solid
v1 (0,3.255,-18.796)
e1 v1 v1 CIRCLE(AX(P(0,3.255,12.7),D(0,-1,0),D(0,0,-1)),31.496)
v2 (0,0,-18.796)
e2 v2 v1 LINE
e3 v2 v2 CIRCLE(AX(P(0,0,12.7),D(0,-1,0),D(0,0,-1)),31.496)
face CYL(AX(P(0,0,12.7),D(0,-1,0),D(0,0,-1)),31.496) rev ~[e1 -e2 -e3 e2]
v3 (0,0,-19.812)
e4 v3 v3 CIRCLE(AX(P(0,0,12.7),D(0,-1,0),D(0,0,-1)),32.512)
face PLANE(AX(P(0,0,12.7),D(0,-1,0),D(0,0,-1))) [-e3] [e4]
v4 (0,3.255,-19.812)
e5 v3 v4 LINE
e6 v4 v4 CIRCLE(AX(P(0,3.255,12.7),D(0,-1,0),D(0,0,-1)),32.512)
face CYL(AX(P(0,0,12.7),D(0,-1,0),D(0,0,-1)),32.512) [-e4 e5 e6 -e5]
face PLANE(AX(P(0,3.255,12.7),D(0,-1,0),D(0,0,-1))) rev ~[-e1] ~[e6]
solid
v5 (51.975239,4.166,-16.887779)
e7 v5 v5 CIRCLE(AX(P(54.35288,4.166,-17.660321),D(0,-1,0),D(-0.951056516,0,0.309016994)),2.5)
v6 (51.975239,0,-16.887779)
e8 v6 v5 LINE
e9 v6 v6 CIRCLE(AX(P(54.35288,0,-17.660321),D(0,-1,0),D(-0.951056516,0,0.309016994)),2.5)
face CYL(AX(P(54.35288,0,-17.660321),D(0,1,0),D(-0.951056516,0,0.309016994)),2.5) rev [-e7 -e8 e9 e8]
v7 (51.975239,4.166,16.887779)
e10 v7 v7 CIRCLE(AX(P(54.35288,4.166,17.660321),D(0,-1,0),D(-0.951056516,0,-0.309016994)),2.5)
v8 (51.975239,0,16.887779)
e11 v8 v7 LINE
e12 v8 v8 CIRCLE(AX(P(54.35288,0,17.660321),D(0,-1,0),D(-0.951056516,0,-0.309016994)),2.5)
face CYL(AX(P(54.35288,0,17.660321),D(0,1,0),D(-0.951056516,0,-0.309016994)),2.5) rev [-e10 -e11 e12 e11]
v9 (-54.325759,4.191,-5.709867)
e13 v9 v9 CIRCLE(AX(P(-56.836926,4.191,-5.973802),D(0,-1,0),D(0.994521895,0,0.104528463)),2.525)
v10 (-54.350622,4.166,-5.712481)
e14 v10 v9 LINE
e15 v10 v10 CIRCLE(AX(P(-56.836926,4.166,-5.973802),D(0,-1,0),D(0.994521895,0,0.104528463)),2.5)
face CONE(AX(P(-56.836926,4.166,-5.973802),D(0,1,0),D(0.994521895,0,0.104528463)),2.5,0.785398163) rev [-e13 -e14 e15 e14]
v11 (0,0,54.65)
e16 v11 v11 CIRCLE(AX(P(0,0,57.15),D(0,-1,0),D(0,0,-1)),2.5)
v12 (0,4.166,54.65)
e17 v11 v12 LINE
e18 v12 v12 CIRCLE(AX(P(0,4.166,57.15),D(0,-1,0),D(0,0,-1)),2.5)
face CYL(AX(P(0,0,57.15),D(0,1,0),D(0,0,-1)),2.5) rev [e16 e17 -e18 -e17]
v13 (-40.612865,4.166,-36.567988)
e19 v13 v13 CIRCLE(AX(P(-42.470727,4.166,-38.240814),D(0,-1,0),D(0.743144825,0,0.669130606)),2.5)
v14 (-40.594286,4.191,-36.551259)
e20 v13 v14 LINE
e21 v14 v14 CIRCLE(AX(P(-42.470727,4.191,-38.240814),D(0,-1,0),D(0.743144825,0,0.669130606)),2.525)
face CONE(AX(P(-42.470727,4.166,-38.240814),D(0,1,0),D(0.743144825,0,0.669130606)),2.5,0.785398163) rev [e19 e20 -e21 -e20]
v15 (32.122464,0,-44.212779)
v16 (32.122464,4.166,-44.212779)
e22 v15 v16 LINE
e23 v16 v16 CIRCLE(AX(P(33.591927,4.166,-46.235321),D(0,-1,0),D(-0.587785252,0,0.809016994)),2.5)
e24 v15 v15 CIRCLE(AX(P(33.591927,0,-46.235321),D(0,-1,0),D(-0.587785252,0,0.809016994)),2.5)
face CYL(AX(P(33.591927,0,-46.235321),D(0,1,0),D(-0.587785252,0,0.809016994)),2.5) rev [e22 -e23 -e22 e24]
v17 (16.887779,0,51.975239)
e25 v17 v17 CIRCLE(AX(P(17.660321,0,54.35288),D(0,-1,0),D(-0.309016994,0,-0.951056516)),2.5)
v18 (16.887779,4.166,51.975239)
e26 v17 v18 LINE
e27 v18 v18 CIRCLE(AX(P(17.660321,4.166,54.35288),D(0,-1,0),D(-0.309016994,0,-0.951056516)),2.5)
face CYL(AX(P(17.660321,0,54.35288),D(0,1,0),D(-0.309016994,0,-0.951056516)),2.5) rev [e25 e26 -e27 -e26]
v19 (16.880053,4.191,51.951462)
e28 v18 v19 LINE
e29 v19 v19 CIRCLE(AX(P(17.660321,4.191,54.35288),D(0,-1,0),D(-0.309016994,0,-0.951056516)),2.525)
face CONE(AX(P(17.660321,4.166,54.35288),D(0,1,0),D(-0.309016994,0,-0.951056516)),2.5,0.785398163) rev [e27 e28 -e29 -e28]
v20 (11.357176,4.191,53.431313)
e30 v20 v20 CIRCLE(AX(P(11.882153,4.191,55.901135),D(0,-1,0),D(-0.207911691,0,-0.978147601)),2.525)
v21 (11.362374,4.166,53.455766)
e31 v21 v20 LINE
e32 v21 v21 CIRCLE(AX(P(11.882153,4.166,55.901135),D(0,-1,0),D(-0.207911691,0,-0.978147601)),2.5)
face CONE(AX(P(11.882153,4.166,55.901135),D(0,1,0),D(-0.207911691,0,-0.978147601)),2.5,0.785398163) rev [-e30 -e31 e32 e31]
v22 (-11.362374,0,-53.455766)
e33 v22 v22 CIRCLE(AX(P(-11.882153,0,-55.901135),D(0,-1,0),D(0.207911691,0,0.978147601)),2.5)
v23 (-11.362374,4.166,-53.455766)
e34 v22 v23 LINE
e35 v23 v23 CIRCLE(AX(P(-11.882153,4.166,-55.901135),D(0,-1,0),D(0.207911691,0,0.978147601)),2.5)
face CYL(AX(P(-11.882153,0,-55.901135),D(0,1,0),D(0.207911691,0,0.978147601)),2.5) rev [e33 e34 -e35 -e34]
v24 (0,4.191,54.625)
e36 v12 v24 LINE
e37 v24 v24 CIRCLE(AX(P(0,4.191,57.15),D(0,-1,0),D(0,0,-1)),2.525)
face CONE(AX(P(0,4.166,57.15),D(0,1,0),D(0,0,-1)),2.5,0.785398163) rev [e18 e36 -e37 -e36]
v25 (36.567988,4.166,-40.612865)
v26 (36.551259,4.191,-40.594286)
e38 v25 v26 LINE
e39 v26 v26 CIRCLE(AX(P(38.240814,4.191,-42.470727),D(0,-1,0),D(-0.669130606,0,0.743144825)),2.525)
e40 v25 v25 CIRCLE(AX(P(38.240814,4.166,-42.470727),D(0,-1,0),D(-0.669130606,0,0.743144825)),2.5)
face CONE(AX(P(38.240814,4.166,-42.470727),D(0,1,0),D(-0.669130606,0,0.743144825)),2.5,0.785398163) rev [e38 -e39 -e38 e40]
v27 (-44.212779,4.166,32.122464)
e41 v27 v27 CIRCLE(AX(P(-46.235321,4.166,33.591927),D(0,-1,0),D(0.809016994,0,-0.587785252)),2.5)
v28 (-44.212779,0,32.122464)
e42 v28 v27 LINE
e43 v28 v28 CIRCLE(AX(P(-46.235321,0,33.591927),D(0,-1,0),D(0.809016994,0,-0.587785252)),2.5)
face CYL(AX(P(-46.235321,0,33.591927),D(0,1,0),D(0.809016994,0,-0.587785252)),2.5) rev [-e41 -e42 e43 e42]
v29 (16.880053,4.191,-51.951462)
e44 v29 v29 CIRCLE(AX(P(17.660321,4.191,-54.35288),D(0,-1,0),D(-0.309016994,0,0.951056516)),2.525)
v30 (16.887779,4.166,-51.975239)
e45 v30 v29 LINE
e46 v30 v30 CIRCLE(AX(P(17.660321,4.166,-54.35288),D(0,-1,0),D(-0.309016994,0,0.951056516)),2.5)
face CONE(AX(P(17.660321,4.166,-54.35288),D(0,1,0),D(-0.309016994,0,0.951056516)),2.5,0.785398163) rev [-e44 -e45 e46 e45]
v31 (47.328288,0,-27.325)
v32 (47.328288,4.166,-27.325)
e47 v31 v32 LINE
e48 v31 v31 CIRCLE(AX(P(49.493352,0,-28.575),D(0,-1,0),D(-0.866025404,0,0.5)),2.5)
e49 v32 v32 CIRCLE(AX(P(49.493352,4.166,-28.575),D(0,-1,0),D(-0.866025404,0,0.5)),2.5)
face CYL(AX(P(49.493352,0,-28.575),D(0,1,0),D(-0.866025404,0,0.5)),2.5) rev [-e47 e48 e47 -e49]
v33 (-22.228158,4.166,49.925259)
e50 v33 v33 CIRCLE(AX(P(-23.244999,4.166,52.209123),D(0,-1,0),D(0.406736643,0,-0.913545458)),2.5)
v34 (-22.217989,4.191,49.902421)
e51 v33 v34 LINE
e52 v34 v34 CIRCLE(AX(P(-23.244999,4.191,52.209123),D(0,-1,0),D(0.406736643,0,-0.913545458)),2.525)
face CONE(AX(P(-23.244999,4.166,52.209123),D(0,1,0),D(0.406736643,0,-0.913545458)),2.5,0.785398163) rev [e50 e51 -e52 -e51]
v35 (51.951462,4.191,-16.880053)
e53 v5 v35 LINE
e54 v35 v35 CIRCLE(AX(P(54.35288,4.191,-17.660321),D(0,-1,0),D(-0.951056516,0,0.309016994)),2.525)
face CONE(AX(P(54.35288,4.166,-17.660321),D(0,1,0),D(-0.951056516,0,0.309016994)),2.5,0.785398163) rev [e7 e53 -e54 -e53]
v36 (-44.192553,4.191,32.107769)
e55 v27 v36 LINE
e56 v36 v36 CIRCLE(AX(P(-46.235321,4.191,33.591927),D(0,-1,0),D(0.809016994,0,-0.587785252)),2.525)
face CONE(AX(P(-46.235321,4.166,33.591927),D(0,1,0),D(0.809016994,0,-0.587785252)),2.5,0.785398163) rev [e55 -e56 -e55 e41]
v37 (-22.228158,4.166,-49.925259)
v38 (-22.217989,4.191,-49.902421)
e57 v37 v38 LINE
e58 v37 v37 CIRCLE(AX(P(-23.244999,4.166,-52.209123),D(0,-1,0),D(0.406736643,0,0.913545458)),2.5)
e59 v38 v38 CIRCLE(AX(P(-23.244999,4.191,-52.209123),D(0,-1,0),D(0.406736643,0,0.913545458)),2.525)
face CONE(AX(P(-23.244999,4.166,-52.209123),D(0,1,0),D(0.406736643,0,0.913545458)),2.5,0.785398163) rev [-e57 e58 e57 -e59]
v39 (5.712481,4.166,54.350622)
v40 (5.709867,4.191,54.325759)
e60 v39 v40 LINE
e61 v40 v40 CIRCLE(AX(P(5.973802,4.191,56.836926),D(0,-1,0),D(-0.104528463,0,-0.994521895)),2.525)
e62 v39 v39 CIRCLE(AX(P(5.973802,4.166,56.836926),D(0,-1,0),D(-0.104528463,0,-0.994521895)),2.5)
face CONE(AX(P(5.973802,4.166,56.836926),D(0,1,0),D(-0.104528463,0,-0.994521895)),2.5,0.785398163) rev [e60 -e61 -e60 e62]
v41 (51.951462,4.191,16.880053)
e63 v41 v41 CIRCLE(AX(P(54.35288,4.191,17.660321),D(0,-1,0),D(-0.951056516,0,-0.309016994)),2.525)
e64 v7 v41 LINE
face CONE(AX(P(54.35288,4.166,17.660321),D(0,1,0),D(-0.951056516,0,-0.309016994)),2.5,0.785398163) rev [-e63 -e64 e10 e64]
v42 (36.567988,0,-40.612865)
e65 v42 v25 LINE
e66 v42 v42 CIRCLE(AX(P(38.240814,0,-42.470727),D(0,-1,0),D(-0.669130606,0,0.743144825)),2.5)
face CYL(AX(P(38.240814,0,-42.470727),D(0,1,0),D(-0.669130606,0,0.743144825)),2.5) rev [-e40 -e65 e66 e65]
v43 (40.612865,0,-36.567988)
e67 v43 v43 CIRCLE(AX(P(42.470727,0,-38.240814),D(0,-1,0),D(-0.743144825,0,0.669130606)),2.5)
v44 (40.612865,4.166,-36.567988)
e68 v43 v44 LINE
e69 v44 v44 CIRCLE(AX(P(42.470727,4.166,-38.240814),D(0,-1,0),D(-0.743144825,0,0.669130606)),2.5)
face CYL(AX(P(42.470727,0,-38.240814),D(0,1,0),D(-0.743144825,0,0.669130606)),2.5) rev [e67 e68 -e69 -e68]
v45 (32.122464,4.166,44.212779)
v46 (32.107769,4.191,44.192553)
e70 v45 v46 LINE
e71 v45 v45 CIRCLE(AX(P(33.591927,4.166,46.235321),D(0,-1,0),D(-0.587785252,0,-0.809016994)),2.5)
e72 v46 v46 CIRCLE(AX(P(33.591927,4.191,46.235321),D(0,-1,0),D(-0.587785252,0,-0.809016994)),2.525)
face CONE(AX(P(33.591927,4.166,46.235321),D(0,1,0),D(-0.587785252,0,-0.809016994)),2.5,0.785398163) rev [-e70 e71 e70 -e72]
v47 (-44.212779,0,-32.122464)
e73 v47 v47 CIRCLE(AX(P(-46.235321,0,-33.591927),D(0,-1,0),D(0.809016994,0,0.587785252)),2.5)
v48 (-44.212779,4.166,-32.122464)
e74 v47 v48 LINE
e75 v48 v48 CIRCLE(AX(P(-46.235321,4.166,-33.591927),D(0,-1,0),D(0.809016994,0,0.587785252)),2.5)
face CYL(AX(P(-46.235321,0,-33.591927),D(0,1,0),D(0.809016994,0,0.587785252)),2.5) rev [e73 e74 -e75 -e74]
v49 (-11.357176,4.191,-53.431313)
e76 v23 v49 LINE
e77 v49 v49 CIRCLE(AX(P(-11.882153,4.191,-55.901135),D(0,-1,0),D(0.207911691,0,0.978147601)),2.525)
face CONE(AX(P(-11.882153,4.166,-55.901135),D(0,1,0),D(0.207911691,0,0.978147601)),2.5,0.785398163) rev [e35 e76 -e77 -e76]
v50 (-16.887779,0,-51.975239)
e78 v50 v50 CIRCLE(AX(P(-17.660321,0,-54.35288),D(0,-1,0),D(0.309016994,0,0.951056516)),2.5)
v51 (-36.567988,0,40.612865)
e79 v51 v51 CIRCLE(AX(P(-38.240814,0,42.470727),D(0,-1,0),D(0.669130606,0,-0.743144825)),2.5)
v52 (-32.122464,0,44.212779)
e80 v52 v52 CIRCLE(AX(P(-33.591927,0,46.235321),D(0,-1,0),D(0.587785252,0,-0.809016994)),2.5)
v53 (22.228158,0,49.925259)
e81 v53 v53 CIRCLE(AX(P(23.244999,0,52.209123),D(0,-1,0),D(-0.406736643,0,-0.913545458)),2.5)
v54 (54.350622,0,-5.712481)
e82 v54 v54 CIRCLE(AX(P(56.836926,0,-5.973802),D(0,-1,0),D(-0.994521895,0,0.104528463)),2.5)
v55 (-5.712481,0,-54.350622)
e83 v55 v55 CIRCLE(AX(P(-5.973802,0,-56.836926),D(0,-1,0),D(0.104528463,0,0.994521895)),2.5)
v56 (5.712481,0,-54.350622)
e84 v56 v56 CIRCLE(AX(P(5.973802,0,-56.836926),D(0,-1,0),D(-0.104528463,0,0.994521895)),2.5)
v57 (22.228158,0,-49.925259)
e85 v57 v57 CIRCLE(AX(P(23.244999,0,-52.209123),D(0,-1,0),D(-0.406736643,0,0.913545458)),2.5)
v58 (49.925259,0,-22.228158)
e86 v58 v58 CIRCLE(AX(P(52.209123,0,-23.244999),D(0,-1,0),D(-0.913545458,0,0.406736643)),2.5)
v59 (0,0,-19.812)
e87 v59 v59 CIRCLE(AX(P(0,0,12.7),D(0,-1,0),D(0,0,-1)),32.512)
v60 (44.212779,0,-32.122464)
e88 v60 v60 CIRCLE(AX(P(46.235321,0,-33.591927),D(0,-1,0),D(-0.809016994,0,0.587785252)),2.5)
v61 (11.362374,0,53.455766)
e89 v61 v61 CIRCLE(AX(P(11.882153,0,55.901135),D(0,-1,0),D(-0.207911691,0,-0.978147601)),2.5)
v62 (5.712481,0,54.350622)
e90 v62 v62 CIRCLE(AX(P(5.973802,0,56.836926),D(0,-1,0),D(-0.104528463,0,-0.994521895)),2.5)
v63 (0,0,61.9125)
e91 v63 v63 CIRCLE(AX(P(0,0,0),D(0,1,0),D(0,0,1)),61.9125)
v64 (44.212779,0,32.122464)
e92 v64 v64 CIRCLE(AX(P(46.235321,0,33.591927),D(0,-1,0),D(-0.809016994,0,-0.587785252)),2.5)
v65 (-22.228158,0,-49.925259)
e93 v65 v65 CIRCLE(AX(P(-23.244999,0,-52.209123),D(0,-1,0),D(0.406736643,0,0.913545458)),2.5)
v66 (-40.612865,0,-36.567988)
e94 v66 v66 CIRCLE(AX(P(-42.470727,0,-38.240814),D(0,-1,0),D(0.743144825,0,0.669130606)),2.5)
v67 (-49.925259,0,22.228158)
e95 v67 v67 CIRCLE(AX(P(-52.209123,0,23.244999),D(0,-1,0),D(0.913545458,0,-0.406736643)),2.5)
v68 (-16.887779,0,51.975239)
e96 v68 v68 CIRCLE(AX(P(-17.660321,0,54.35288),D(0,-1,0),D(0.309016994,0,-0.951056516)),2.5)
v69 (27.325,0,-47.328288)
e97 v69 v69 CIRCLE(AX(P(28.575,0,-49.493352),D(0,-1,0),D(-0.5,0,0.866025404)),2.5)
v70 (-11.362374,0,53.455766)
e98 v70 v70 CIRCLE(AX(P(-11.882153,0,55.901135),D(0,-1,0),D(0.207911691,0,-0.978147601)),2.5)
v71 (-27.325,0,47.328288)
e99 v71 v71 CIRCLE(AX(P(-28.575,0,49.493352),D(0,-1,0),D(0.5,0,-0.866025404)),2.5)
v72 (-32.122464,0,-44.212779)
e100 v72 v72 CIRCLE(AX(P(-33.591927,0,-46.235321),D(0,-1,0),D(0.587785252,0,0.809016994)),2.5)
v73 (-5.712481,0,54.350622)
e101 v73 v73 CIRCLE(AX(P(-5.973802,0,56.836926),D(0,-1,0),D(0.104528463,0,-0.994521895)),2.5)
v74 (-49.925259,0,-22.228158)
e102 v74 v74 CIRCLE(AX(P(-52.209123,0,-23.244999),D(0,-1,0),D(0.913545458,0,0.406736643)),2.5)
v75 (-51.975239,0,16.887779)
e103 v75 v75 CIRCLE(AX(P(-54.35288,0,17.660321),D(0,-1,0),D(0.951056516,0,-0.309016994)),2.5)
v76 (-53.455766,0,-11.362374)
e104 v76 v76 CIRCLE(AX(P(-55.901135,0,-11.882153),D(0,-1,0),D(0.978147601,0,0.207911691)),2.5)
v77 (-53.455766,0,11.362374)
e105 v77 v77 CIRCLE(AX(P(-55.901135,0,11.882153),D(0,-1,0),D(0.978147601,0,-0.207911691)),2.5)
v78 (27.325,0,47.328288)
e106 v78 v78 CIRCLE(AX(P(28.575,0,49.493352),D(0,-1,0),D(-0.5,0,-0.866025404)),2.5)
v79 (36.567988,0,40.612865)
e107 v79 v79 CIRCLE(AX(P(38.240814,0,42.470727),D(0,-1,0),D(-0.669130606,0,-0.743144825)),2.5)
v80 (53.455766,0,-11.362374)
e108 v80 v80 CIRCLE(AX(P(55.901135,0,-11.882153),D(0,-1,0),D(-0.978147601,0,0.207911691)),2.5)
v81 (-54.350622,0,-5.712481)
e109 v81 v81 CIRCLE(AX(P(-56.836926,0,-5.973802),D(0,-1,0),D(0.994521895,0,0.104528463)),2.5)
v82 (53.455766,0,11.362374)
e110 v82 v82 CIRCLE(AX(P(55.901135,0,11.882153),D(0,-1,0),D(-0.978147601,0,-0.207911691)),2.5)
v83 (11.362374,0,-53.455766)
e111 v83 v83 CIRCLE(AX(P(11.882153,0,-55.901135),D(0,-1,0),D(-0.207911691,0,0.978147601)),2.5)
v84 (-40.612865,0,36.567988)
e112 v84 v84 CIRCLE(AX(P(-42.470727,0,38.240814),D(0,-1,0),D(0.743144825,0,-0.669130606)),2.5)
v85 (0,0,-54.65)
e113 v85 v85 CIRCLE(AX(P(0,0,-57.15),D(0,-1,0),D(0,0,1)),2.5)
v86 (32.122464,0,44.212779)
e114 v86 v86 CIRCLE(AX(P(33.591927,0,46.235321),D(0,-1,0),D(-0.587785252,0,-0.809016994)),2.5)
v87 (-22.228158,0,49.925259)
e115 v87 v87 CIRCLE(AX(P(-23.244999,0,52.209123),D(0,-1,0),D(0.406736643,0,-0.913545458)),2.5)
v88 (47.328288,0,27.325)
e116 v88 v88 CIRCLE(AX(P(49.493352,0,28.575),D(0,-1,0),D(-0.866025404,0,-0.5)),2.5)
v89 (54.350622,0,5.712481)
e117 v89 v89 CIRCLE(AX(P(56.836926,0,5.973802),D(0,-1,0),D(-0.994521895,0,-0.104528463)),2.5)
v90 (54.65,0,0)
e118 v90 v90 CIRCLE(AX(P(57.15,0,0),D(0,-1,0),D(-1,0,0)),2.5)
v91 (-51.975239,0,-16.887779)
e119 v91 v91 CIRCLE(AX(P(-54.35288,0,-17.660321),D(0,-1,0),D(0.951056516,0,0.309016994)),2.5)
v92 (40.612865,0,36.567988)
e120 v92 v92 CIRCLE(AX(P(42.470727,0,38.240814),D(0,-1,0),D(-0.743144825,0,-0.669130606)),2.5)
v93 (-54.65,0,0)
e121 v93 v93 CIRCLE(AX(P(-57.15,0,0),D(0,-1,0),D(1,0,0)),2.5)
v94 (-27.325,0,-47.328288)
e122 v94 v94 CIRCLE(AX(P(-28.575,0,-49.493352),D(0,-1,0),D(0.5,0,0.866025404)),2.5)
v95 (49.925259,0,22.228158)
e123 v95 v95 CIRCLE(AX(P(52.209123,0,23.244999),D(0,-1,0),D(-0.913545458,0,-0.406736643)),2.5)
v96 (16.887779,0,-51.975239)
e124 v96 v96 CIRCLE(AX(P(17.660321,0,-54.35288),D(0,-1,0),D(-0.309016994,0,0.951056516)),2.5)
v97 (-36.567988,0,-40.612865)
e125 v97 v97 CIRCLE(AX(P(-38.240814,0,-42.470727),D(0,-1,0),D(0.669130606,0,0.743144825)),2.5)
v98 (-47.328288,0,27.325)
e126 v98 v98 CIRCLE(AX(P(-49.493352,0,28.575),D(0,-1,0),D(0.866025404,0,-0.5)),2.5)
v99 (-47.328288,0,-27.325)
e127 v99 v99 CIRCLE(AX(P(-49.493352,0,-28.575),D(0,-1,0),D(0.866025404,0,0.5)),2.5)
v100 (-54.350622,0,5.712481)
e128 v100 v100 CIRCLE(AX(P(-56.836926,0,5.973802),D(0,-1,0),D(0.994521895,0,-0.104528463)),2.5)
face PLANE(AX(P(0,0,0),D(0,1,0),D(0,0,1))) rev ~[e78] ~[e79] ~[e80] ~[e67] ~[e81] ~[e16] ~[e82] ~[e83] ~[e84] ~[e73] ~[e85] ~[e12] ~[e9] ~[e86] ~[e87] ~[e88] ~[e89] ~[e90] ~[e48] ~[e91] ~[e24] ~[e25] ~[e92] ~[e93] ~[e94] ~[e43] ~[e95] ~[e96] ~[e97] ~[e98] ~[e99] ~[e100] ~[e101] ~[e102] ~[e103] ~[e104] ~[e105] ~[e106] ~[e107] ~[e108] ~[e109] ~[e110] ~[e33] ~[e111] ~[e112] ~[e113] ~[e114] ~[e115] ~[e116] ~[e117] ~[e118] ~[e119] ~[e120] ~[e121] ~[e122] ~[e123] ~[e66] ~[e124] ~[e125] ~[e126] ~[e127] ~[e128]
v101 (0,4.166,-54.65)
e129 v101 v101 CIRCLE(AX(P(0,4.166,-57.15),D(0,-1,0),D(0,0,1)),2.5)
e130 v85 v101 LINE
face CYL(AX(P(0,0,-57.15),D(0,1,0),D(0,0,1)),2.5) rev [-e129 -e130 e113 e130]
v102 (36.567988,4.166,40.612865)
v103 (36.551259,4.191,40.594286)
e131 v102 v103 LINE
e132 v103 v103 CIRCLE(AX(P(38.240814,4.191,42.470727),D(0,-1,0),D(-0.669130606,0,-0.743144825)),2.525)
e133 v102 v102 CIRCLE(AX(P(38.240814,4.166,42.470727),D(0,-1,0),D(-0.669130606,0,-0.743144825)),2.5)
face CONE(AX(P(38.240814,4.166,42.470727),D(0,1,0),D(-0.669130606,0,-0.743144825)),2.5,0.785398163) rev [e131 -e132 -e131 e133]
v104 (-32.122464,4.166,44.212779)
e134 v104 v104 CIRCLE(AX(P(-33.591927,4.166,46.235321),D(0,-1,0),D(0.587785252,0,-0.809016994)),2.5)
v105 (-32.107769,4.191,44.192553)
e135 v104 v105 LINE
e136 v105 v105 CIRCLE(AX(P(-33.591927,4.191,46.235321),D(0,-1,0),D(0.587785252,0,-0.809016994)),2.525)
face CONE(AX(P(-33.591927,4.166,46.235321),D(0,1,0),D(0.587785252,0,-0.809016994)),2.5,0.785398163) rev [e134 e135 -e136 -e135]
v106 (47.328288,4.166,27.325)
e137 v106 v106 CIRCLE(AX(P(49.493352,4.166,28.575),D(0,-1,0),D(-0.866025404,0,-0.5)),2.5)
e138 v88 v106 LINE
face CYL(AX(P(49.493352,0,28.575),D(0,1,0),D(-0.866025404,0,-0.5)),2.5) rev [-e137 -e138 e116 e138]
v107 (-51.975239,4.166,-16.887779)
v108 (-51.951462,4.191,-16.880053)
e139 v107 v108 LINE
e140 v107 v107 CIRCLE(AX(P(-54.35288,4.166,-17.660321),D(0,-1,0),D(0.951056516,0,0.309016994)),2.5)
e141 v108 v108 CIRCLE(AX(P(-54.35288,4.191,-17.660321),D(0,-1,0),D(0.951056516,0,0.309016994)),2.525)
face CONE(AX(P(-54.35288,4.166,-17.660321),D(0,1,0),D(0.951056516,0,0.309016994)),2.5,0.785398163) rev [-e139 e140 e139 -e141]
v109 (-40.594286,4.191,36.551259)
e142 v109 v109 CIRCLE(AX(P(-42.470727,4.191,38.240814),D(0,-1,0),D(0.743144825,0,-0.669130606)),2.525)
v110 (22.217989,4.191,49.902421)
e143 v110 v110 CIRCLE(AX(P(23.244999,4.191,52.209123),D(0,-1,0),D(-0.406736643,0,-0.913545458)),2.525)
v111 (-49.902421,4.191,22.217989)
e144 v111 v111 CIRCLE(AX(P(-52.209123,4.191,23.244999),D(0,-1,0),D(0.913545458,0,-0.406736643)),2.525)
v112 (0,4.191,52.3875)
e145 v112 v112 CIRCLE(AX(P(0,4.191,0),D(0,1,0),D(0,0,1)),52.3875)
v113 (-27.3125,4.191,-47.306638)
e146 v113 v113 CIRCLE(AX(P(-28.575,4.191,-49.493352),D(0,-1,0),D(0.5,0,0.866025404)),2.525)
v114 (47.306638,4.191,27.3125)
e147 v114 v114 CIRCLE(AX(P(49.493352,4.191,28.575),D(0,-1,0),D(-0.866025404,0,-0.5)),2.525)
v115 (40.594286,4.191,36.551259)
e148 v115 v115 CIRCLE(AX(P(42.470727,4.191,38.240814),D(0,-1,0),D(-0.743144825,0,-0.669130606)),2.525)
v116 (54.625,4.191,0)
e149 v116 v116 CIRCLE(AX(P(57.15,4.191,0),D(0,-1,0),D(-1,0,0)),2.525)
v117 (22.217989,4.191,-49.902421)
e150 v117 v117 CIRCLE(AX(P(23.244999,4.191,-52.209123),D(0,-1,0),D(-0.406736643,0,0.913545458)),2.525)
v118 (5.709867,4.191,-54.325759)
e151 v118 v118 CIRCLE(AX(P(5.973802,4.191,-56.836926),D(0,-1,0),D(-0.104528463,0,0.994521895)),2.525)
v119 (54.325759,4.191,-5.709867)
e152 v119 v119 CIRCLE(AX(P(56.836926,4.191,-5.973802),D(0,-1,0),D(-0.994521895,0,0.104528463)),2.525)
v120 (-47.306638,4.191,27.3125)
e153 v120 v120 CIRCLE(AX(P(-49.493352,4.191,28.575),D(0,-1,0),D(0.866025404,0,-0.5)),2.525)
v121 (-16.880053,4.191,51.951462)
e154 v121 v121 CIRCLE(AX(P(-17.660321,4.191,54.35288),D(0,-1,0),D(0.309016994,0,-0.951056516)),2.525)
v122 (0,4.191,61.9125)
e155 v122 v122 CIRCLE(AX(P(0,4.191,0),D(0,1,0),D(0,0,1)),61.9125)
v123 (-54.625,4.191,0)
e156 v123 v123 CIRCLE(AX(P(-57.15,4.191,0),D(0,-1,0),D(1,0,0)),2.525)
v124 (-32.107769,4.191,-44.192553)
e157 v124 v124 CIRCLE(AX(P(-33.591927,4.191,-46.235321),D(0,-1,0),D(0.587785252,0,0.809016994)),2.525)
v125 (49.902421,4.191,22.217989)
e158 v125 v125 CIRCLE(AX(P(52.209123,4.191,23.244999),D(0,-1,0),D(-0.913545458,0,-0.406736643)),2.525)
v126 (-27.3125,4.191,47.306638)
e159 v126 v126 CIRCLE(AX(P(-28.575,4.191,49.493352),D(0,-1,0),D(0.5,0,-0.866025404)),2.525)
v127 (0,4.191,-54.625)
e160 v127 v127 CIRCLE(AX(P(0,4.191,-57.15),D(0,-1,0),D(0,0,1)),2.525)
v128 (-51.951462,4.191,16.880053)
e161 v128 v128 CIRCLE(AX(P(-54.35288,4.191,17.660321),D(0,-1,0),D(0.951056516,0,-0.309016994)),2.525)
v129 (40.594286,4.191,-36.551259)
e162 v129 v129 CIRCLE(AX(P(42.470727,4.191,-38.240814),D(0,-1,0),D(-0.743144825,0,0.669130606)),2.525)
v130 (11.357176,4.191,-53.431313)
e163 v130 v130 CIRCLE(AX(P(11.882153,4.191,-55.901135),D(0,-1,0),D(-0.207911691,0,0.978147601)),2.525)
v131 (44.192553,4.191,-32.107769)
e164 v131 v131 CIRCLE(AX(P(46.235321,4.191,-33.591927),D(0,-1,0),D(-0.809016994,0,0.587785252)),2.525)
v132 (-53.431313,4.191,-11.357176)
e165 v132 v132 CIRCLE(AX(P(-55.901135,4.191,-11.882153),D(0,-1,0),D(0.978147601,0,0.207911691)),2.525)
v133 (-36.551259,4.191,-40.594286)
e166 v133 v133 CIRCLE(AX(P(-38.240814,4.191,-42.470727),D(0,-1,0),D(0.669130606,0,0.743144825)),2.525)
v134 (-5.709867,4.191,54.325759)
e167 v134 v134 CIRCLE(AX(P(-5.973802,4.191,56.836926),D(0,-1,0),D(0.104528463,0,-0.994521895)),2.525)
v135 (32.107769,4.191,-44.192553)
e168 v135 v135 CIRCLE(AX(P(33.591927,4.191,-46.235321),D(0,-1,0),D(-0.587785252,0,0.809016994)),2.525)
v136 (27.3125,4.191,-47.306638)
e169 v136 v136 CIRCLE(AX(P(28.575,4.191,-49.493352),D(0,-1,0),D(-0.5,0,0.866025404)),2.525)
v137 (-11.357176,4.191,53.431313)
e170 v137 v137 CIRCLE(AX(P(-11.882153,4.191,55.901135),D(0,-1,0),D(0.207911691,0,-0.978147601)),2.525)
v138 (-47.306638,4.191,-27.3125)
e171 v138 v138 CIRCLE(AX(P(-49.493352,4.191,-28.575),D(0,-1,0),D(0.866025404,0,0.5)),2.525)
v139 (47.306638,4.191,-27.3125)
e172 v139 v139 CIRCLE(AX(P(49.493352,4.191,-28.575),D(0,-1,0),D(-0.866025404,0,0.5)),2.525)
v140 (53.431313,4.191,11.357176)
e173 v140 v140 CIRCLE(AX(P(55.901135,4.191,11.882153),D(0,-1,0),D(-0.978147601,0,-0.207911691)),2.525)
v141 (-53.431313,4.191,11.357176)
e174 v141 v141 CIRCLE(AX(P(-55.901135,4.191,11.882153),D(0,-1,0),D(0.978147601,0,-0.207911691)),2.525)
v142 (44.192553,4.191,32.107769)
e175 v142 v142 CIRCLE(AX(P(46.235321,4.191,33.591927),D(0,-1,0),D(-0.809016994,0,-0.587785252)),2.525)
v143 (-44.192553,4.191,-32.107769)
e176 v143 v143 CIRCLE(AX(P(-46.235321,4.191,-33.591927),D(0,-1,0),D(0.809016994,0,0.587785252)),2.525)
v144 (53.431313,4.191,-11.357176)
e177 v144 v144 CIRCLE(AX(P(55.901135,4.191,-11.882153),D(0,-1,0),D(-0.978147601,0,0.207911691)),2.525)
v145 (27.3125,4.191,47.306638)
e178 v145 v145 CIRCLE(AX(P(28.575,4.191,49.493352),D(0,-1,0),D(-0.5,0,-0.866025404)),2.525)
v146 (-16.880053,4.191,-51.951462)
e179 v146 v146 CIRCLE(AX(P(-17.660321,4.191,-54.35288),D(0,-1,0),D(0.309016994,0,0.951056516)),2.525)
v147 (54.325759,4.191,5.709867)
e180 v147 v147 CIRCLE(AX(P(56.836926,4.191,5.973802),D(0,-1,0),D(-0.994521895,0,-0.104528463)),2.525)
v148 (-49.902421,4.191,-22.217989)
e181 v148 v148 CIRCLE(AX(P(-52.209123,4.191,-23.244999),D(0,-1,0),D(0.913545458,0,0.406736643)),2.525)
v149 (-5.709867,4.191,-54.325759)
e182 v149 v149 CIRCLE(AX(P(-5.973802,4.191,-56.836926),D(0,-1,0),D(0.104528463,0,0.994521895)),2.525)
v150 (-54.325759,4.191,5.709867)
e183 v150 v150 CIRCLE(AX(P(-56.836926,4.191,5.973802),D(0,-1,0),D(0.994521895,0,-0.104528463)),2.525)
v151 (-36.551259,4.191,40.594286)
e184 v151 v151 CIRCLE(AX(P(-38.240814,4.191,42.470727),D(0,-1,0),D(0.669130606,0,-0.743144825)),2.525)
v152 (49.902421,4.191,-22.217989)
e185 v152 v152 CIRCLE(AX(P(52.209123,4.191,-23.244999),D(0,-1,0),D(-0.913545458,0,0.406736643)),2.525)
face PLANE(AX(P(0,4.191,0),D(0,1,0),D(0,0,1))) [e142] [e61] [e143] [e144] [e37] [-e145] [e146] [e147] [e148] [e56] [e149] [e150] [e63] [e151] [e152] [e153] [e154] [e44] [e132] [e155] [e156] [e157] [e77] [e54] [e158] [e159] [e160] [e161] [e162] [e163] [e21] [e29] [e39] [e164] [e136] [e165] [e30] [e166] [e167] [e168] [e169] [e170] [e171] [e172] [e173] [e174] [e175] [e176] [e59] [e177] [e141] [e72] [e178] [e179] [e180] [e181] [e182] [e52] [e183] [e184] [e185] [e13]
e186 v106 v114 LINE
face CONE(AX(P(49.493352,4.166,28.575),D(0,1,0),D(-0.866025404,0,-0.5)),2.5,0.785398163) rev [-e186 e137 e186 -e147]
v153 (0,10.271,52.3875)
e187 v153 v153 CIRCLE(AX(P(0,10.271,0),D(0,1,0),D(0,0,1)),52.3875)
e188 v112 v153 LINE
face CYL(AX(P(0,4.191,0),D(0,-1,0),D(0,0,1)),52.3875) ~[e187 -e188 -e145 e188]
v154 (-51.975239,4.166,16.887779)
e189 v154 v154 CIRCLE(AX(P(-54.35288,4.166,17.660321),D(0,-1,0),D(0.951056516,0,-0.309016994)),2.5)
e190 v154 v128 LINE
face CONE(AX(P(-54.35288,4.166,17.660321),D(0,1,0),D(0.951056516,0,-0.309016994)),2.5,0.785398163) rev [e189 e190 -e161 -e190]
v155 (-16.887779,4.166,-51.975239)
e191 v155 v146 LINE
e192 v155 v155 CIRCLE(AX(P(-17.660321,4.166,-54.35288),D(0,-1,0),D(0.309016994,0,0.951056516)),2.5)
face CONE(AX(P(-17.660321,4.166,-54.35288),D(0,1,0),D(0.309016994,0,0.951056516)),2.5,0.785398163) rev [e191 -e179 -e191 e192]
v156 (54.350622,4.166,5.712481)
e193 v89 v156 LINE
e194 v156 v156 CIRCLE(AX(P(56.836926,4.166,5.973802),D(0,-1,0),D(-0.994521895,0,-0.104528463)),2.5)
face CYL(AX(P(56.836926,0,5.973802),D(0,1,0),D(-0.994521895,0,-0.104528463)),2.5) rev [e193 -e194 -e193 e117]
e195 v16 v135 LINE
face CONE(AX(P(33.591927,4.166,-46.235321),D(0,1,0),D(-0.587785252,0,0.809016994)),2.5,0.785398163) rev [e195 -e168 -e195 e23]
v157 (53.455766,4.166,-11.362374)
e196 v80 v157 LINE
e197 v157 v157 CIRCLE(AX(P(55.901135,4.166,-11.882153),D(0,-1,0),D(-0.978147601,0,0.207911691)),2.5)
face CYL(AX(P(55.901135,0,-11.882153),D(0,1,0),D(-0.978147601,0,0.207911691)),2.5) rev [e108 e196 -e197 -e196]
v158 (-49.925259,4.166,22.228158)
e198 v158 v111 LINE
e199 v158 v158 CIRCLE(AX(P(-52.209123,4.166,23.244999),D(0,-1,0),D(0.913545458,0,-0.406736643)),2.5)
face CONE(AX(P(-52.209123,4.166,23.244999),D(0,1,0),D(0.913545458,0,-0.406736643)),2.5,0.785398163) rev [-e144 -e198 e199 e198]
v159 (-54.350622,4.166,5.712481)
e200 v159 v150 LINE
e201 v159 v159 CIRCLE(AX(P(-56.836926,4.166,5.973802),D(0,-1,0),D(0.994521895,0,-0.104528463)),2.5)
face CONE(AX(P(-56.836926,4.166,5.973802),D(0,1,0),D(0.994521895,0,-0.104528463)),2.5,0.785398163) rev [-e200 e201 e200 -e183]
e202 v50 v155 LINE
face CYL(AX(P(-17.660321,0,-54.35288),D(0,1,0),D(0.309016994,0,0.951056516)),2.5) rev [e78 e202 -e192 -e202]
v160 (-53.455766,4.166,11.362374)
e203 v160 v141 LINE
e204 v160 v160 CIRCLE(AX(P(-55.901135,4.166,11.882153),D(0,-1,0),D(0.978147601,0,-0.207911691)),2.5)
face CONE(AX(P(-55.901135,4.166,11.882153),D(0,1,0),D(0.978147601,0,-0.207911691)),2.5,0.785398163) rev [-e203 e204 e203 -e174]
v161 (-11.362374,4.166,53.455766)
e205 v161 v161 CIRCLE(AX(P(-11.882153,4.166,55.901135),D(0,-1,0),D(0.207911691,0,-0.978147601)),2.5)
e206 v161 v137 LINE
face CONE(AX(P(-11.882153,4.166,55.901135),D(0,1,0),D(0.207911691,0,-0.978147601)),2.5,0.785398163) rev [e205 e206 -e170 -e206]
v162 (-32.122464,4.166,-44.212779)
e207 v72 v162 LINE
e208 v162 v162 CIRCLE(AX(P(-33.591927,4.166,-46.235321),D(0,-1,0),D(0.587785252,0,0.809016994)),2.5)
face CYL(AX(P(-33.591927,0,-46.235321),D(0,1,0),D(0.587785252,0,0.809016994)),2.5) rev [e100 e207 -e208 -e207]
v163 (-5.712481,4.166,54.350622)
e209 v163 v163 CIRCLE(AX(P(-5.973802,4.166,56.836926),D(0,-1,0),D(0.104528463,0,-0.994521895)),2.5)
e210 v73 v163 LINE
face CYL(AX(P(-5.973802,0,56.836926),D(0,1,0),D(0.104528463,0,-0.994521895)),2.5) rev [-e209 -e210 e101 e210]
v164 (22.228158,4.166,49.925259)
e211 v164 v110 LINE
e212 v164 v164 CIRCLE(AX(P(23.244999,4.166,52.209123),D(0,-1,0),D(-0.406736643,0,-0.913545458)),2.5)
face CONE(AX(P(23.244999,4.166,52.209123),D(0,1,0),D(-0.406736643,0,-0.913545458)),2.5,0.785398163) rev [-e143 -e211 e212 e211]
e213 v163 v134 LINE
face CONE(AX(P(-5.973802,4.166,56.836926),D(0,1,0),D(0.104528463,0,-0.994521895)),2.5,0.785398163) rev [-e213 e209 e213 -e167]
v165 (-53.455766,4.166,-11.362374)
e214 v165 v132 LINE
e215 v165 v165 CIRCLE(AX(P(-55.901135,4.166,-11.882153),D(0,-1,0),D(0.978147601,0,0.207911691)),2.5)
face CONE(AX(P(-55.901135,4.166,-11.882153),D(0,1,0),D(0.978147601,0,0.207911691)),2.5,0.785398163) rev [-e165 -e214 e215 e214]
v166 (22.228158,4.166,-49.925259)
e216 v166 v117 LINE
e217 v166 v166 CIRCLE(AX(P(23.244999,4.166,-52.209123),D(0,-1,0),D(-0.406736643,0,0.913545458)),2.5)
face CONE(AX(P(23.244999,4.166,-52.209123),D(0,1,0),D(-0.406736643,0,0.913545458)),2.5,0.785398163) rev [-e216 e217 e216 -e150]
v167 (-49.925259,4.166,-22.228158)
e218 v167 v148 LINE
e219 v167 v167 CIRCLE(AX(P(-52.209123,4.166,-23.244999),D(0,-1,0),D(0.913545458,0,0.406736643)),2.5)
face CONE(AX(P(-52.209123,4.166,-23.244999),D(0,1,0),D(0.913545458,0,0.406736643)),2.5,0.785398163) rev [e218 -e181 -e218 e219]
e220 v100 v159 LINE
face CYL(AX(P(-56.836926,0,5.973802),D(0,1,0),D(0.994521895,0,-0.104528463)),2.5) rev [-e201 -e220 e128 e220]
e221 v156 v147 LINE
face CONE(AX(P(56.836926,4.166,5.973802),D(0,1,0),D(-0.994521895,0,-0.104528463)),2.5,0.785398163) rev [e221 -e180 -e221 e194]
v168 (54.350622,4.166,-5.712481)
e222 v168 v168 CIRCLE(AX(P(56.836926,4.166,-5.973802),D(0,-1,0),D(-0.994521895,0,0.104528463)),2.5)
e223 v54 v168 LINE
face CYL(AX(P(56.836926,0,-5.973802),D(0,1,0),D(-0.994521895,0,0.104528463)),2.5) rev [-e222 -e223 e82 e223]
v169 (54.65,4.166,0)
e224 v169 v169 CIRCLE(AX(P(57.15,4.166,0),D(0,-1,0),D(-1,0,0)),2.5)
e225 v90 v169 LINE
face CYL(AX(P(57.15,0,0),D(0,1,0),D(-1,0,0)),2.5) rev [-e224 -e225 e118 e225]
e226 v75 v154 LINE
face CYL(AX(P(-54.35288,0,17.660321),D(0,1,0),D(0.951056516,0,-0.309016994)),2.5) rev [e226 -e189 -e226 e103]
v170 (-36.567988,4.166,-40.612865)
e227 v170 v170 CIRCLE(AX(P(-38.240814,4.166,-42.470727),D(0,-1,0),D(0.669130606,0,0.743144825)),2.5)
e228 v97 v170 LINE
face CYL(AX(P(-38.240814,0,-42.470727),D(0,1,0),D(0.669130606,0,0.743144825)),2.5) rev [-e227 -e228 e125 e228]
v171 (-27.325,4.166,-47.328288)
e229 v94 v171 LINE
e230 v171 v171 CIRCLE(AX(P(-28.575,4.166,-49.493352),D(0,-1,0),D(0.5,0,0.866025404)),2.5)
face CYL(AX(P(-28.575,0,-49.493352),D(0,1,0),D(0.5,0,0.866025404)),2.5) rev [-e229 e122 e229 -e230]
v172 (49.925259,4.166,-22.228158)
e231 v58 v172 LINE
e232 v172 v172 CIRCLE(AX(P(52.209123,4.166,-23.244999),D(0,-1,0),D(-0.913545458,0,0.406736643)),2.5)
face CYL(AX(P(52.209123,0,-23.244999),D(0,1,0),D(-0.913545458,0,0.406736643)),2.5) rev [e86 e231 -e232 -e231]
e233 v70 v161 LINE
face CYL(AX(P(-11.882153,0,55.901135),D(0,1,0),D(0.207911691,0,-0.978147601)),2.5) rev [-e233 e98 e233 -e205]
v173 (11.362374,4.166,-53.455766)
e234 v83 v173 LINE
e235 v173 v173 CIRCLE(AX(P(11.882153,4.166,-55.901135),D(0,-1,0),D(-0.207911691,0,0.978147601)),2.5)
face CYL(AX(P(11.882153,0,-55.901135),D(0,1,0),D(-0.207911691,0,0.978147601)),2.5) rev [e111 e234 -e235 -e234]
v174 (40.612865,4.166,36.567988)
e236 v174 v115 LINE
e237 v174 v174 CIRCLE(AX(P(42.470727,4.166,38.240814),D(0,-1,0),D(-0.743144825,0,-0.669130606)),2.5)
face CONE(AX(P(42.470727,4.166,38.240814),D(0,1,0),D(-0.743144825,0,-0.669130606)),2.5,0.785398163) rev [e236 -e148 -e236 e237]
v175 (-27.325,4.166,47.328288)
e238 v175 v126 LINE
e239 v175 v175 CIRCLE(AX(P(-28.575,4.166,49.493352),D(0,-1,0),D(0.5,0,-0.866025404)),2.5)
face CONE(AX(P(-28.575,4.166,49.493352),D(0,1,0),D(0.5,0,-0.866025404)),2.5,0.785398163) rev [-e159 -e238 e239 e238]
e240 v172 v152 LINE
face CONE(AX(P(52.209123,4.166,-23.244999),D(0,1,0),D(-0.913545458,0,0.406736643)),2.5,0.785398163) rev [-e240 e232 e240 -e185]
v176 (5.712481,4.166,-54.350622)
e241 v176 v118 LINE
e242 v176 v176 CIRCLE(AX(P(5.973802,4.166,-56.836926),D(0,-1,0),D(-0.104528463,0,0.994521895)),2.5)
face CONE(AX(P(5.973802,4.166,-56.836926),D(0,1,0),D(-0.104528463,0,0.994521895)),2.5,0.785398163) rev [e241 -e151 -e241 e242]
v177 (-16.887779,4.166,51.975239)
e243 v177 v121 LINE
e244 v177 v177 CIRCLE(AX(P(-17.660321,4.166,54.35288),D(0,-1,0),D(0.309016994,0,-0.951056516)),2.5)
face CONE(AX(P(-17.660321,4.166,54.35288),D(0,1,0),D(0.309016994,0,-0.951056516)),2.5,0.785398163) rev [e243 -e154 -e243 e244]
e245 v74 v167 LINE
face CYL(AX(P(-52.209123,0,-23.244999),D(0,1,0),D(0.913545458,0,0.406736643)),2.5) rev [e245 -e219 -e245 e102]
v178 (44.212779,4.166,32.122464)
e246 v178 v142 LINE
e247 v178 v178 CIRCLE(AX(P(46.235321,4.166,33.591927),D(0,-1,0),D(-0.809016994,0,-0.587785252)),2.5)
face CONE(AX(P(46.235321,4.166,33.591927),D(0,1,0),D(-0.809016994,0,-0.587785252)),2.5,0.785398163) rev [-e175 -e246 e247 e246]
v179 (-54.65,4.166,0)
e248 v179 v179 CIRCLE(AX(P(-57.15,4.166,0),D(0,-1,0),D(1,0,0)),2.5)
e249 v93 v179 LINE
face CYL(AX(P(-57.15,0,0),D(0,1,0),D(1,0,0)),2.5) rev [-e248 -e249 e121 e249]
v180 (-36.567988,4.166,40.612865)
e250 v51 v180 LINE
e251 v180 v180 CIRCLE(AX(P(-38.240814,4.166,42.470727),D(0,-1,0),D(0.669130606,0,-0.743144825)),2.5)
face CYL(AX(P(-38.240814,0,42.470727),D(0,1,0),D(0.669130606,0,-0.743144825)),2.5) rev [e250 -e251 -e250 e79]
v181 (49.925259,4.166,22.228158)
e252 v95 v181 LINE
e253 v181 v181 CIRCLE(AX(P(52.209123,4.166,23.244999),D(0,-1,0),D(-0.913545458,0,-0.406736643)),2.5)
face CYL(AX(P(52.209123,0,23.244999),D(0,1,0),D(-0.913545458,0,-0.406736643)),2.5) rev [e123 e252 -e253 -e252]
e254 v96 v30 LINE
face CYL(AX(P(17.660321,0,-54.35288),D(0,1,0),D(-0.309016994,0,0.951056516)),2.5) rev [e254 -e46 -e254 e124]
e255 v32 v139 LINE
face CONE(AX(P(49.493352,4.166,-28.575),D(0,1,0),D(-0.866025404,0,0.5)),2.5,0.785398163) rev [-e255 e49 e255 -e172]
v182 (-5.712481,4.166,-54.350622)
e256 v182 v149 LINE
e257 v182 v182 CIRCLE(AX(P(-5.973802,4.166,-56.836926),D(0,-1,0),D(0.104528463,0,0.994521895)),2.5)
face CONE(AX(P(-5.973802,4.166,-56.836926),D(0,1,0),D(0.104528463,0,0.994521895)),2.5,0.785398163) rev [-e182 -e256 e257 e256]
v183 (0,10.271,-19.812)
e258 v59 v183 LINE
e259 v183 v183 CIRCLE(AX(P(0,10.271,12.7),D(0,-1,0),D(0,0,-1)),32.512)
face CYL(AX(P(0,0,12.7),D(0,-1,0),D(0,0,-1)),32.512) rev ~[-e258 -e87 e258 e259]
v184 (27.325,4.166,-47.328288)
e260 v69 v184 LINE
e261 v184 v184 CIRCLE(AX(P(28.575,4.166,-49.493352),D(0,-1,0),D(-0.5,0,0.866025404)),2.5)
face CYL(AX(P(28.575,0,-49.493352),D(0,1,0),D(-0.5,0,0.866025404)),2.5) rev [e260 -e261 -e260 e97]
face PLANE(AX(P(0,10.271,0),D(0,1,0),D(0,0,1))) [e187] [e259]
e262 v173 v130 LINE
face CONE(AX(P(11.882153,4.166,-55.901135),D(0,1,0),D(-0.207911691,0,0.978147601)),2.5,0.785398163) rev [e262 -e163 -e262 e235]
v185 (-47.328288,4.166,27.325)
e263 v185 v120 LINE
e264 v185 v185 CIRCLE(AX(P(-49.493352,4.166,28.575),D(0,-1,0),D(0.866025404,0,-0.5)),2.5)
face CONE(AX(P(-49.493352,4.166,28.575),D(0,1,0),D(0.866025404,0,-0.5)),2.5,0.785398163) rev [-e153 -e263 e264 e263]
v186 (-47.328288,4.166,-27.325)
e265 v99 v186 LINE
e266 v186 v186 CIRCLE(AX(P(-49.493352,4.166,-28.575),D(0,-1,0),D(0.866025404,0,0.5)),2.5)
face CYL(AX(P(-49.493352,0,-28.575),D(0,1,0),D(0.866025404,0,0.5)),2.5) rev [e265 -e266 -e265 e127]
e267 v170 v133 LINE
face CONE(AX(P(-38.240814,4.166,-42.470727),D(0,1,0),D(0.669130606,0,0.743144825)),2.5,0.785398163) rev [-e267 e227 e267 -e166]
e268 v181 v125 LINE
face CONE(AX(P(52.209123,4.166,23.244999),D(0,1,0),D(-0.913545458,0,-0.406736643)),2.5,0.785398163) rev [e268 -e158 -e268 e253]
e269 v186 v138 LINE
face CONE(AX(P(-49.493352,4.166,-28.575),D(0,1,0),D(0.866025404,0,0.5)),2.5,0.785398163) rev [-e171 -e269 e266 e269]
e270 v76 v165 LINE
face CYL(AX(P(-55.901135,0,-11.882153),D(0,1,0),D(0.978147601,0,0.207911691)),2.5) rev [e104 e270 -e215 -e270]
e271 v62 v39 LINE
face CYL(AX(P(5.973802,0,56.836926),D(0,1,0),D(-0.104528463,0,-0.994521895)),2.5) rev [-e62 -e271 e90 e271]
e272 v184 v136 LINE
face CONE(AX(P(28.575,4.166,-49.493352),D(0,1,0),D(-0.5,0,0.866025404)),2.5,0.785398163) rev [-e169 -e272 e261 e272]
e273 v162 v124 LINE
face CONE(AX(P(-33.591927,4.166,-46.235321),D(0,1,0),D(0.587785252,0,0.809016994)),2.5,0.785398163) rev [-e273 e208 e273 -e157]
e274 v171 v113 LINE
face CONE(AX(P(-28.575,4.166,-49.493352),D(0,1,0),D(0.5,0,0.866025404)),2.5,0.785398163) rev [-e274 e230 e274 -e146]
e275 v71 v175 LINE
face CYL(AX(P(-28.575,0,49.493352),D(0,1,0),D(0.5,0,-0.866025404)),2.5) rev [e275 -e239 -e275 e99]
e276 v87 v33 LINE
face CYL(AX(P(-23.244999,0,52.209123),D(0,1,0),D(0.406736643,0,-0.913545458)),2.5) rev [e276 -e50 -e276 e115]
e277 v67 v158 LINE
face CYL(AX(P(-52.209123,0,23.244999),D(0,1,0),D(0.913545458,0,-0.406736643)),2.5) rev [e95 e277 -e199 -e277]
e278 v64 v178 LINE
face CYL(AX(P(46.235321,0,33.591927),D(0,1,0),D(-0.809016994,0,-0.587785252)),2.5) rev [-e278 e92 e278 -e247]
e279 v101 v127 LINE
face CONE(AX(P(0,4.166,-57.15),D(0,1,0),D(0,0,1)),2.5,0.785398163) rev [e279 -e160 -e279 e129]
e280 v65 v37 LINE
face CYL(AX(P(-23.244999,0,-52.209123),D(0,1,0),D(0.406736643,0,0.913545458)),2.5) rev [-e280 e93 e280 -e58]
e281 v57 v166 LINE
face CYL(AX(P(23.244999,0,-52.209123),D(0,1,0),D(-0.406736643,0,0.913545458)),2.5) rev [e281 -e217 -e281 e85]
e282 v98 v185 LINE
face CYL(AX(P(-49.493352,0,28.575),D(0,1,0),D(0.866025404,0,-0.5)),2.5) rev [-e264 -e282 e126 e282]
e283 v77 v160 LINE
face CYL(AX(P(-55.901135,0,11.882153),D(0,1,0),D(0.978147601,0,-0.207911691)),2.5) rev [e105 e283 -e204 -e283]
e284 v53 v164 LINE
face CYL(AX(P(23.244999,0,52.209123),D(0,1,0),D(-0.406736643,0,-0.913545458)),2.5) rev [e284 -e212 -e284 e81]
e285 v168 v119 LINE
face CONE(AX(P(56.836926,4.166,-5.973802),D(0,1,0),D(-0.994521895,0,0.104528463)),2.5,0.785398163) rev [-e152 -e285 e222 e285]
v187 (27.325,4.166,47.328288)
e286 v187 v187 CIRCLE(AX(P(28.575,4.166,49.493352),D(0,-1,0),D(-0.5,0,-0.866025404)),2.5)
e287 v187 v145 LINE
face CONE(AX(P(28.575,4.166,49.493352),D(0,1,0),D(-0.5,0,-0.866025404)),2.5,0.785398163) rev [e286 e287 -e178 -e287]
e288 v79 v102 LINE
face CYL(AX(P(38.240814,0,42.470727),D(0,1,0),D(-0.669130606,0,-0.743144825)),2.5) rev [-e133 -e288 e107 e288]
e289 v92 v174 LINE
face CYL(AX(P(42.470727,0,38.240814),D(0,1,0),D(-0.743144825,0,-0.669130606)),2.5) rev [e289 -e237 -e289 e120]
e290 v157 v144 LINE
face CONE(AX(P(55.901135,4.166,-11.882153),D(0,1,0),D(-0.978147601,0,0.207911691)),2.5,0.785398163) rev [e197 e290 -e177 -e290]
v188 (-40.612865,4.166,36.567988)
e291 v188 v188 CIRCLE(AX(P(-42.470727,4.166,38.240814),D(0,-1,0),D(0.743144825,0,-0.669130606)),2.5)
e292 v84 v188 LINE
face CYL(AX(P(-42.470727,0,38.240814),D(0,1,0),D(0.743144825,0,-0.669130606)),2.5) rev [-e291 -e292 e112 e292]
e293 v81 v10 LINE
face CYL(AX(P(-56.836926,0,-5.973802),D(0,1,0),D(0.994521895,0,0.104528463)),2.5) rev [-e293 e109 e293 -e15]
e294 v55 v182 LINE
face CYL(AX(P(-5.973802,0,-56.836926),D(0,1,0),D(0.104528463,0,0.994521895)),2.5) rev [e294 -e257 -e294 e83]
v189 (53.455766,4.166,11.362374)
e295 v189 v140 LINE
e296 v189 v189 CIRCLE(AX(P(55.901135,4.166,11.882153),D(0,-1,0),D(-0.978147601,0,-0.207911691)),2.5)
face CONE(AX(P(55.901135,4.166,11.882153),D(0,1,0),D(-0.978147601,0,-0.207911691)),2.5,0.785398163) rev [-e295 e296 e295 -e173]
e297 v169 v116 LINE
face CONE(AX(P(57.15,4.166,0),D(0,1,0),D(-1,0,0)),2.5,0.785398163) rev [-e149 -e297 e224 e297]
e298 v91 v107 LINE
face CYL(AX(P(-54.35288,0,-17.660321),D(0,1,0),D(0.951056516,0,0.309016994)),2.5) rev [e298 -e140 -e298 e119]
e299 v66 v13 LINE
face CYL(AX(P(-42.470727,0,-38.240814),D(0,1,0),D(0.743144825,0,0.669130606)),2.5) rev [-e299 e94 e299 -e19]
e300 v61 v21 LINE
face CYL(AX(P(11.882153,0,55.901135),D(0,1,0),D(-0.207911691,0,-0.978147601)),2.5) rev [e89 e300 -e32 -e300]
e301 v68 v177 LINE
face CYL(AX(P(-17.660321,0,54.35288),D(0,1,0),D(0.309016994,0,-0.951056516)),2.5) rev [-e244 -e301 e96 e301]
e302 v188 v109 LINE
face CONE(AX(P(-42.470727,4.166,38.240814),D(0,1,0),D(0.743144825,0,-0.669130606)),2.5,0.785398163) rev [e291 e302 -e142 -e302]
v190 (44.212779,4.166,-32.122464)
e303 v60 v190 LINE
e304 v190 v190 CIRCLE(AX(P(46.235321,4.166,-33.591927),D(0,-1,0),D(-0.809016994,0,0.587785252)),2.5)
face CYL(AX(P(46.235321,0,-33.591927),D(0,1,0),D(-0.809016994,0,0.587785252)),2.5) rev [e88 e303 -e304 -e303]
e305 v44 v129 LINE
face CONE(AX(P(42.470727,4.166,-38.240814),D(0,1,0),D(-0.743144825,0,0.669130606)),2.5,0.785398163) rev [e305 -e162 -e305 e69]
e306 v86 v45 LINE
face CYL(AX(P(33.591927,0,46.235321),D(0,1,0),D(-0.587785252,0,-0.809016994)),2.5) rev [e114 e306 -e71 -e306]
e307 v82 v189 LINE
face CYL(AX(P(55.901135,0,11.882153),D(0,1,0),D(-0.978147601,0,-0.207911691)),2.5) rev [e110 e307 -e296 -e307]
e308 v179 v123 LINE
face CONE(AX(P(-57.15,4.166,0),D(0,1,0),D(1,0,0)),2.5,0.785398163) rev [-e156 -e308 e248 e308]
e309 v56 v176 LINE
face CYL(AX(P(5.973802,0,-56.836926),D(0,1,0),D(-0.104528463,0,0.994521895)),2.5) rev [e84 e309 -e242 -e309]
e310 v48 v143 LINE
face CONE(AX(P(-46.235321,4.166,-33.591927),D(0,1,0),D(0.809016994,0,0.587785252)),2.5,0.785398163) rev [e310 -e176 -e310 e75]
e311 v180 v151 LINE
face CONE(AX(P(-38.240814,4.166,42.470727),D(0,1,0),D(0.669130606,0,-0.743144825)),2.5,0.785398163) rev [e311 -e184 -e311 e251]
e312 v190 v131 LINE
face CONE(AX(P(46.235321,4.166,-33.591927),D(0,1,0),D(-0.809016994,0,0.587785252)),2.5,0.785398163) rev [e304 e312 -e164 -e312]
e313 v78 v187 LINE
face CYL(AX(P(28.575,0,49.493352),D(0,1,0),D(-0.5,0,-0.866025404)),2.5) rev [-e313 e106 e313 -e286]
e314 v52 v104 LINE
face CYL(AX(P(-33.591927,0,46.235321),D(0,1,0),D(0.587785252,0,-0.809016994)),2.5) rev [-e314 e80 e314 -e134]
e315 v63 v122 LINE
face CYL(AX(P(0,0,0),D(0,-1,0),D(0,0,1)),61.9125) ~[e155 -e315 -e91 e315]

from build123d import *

# Parameters (mm, degrees)
SKETCH1_R                  = 61.9125
SKETCH1_R_2                = 30.988
SLOTTED_BODY_EXTRUDE_DEPTH = 4.191
SKETCH5_R                  = 52.3875
BOSS_EXTRUDE3_DEPTH        = 6.080000032
SKETCH6_R                  = 32.512
CUT_EXTRUDE5_DEPTH         = 89.157862691
SKETCH8_R                  = 32.512
SKETCH8_R_2                = 31.496
BOSS_EXTRUDE4_DEPTH        = 3.255000094
CIRPATTERN1_COUNT          = 60


with BuildPart() as part:
    # Sketch1 → Slotted-Body Extrude (new body)
    with BuildSketch(Plane(origin=(0, 0, 0), x_dir=(1, 0, 0), z_dir=(0, 1, 0))):
        with Locations(Location((0, 0, 0), (0, 0, 270))):
            Circle(SKETCH1_R)
        with Locations(Location((0, -12.7, 0), (0, 0, 270))):
            Circle(SKETCH1_R_2, mode=Mode.SUBTRACT)
    extrude(amount=SLOTTED_BODY_EXTRUDE_DEPTH)

    # Sketch5 → Boss-Extrude3 (add)
    with BuildSketch(Plane(origin=(0, 4.191, 0), x_dir=(1, 0, 0), z_dir=(0, 1, 0))):
        with Locations(Location((0, 0, 0), (0, 0, 270))):
            Circle(SKETCH5_R)
    extrude(amount=BOSS_EXTRUDE3_DEPTH)

    # Sketch6 → Cut-Extrude5 (cut, through all)
    with BuildSketch(Plane.XZ):
        with Locations(Location((0, 12.7, 0), (0, 0, 270))):
            Circle(SKETCH6_R)
    extrude(amount=-CUT_EXTRUDE5_DEPTH, mode=Mode.SUBTRACT)

    # Sketch10 → Ø5.0mm Dowel Hole1 (revolve, cut)
    with BuildSketch(Plane(origin=(0, 4.191, -57.15), x_dir=(0, 0, 1), z_dir=(1, 0, 0))):
        Polygon((0, 0), (0, 4.191), (2.5, 4.191), (2.5, 0.025), (2.525, 0), align=None)
    f_5_0mm_dowel_hole1 = revolve(axis=Axis((0, 10.541, -57.15), (0, -1, 0)), mode=Mode.SUBTRACT)

    # CirPattern1: Ø5.0mm Dowel Hole1 ×60 about axis
    cirpattern1_axis = Axis((0, 0, 0), (0, 1, 0))
    for i in range(1, CIRPATTERN1_COUNT):
        add(f_5_0mm_dowel_hole1.rotate(cirpattern1_axis, i * 360 / CIRPATTERN1_COUNT), mode=Mode.SUBTRACT)


with BuildPart() as body_2:
    # Sketch8 → Boss-Extrude4 (new body)
    with BuildSketch(Plane.XZ):
        with Locations(Location((0, 12.7, 0), (0, 0, 270))):
            Circle(SKETCH8_R)
        with Locations(Location((0, 12.7, 0), (0, 0, 270))):
            Circle(SKETCH8_R_2, mode=Mode.SUBTRACT)
    extrude(amount=-BOSS_EXTRUDE4_DEPTH)


solid = Compound([part.part, body_2.part])
